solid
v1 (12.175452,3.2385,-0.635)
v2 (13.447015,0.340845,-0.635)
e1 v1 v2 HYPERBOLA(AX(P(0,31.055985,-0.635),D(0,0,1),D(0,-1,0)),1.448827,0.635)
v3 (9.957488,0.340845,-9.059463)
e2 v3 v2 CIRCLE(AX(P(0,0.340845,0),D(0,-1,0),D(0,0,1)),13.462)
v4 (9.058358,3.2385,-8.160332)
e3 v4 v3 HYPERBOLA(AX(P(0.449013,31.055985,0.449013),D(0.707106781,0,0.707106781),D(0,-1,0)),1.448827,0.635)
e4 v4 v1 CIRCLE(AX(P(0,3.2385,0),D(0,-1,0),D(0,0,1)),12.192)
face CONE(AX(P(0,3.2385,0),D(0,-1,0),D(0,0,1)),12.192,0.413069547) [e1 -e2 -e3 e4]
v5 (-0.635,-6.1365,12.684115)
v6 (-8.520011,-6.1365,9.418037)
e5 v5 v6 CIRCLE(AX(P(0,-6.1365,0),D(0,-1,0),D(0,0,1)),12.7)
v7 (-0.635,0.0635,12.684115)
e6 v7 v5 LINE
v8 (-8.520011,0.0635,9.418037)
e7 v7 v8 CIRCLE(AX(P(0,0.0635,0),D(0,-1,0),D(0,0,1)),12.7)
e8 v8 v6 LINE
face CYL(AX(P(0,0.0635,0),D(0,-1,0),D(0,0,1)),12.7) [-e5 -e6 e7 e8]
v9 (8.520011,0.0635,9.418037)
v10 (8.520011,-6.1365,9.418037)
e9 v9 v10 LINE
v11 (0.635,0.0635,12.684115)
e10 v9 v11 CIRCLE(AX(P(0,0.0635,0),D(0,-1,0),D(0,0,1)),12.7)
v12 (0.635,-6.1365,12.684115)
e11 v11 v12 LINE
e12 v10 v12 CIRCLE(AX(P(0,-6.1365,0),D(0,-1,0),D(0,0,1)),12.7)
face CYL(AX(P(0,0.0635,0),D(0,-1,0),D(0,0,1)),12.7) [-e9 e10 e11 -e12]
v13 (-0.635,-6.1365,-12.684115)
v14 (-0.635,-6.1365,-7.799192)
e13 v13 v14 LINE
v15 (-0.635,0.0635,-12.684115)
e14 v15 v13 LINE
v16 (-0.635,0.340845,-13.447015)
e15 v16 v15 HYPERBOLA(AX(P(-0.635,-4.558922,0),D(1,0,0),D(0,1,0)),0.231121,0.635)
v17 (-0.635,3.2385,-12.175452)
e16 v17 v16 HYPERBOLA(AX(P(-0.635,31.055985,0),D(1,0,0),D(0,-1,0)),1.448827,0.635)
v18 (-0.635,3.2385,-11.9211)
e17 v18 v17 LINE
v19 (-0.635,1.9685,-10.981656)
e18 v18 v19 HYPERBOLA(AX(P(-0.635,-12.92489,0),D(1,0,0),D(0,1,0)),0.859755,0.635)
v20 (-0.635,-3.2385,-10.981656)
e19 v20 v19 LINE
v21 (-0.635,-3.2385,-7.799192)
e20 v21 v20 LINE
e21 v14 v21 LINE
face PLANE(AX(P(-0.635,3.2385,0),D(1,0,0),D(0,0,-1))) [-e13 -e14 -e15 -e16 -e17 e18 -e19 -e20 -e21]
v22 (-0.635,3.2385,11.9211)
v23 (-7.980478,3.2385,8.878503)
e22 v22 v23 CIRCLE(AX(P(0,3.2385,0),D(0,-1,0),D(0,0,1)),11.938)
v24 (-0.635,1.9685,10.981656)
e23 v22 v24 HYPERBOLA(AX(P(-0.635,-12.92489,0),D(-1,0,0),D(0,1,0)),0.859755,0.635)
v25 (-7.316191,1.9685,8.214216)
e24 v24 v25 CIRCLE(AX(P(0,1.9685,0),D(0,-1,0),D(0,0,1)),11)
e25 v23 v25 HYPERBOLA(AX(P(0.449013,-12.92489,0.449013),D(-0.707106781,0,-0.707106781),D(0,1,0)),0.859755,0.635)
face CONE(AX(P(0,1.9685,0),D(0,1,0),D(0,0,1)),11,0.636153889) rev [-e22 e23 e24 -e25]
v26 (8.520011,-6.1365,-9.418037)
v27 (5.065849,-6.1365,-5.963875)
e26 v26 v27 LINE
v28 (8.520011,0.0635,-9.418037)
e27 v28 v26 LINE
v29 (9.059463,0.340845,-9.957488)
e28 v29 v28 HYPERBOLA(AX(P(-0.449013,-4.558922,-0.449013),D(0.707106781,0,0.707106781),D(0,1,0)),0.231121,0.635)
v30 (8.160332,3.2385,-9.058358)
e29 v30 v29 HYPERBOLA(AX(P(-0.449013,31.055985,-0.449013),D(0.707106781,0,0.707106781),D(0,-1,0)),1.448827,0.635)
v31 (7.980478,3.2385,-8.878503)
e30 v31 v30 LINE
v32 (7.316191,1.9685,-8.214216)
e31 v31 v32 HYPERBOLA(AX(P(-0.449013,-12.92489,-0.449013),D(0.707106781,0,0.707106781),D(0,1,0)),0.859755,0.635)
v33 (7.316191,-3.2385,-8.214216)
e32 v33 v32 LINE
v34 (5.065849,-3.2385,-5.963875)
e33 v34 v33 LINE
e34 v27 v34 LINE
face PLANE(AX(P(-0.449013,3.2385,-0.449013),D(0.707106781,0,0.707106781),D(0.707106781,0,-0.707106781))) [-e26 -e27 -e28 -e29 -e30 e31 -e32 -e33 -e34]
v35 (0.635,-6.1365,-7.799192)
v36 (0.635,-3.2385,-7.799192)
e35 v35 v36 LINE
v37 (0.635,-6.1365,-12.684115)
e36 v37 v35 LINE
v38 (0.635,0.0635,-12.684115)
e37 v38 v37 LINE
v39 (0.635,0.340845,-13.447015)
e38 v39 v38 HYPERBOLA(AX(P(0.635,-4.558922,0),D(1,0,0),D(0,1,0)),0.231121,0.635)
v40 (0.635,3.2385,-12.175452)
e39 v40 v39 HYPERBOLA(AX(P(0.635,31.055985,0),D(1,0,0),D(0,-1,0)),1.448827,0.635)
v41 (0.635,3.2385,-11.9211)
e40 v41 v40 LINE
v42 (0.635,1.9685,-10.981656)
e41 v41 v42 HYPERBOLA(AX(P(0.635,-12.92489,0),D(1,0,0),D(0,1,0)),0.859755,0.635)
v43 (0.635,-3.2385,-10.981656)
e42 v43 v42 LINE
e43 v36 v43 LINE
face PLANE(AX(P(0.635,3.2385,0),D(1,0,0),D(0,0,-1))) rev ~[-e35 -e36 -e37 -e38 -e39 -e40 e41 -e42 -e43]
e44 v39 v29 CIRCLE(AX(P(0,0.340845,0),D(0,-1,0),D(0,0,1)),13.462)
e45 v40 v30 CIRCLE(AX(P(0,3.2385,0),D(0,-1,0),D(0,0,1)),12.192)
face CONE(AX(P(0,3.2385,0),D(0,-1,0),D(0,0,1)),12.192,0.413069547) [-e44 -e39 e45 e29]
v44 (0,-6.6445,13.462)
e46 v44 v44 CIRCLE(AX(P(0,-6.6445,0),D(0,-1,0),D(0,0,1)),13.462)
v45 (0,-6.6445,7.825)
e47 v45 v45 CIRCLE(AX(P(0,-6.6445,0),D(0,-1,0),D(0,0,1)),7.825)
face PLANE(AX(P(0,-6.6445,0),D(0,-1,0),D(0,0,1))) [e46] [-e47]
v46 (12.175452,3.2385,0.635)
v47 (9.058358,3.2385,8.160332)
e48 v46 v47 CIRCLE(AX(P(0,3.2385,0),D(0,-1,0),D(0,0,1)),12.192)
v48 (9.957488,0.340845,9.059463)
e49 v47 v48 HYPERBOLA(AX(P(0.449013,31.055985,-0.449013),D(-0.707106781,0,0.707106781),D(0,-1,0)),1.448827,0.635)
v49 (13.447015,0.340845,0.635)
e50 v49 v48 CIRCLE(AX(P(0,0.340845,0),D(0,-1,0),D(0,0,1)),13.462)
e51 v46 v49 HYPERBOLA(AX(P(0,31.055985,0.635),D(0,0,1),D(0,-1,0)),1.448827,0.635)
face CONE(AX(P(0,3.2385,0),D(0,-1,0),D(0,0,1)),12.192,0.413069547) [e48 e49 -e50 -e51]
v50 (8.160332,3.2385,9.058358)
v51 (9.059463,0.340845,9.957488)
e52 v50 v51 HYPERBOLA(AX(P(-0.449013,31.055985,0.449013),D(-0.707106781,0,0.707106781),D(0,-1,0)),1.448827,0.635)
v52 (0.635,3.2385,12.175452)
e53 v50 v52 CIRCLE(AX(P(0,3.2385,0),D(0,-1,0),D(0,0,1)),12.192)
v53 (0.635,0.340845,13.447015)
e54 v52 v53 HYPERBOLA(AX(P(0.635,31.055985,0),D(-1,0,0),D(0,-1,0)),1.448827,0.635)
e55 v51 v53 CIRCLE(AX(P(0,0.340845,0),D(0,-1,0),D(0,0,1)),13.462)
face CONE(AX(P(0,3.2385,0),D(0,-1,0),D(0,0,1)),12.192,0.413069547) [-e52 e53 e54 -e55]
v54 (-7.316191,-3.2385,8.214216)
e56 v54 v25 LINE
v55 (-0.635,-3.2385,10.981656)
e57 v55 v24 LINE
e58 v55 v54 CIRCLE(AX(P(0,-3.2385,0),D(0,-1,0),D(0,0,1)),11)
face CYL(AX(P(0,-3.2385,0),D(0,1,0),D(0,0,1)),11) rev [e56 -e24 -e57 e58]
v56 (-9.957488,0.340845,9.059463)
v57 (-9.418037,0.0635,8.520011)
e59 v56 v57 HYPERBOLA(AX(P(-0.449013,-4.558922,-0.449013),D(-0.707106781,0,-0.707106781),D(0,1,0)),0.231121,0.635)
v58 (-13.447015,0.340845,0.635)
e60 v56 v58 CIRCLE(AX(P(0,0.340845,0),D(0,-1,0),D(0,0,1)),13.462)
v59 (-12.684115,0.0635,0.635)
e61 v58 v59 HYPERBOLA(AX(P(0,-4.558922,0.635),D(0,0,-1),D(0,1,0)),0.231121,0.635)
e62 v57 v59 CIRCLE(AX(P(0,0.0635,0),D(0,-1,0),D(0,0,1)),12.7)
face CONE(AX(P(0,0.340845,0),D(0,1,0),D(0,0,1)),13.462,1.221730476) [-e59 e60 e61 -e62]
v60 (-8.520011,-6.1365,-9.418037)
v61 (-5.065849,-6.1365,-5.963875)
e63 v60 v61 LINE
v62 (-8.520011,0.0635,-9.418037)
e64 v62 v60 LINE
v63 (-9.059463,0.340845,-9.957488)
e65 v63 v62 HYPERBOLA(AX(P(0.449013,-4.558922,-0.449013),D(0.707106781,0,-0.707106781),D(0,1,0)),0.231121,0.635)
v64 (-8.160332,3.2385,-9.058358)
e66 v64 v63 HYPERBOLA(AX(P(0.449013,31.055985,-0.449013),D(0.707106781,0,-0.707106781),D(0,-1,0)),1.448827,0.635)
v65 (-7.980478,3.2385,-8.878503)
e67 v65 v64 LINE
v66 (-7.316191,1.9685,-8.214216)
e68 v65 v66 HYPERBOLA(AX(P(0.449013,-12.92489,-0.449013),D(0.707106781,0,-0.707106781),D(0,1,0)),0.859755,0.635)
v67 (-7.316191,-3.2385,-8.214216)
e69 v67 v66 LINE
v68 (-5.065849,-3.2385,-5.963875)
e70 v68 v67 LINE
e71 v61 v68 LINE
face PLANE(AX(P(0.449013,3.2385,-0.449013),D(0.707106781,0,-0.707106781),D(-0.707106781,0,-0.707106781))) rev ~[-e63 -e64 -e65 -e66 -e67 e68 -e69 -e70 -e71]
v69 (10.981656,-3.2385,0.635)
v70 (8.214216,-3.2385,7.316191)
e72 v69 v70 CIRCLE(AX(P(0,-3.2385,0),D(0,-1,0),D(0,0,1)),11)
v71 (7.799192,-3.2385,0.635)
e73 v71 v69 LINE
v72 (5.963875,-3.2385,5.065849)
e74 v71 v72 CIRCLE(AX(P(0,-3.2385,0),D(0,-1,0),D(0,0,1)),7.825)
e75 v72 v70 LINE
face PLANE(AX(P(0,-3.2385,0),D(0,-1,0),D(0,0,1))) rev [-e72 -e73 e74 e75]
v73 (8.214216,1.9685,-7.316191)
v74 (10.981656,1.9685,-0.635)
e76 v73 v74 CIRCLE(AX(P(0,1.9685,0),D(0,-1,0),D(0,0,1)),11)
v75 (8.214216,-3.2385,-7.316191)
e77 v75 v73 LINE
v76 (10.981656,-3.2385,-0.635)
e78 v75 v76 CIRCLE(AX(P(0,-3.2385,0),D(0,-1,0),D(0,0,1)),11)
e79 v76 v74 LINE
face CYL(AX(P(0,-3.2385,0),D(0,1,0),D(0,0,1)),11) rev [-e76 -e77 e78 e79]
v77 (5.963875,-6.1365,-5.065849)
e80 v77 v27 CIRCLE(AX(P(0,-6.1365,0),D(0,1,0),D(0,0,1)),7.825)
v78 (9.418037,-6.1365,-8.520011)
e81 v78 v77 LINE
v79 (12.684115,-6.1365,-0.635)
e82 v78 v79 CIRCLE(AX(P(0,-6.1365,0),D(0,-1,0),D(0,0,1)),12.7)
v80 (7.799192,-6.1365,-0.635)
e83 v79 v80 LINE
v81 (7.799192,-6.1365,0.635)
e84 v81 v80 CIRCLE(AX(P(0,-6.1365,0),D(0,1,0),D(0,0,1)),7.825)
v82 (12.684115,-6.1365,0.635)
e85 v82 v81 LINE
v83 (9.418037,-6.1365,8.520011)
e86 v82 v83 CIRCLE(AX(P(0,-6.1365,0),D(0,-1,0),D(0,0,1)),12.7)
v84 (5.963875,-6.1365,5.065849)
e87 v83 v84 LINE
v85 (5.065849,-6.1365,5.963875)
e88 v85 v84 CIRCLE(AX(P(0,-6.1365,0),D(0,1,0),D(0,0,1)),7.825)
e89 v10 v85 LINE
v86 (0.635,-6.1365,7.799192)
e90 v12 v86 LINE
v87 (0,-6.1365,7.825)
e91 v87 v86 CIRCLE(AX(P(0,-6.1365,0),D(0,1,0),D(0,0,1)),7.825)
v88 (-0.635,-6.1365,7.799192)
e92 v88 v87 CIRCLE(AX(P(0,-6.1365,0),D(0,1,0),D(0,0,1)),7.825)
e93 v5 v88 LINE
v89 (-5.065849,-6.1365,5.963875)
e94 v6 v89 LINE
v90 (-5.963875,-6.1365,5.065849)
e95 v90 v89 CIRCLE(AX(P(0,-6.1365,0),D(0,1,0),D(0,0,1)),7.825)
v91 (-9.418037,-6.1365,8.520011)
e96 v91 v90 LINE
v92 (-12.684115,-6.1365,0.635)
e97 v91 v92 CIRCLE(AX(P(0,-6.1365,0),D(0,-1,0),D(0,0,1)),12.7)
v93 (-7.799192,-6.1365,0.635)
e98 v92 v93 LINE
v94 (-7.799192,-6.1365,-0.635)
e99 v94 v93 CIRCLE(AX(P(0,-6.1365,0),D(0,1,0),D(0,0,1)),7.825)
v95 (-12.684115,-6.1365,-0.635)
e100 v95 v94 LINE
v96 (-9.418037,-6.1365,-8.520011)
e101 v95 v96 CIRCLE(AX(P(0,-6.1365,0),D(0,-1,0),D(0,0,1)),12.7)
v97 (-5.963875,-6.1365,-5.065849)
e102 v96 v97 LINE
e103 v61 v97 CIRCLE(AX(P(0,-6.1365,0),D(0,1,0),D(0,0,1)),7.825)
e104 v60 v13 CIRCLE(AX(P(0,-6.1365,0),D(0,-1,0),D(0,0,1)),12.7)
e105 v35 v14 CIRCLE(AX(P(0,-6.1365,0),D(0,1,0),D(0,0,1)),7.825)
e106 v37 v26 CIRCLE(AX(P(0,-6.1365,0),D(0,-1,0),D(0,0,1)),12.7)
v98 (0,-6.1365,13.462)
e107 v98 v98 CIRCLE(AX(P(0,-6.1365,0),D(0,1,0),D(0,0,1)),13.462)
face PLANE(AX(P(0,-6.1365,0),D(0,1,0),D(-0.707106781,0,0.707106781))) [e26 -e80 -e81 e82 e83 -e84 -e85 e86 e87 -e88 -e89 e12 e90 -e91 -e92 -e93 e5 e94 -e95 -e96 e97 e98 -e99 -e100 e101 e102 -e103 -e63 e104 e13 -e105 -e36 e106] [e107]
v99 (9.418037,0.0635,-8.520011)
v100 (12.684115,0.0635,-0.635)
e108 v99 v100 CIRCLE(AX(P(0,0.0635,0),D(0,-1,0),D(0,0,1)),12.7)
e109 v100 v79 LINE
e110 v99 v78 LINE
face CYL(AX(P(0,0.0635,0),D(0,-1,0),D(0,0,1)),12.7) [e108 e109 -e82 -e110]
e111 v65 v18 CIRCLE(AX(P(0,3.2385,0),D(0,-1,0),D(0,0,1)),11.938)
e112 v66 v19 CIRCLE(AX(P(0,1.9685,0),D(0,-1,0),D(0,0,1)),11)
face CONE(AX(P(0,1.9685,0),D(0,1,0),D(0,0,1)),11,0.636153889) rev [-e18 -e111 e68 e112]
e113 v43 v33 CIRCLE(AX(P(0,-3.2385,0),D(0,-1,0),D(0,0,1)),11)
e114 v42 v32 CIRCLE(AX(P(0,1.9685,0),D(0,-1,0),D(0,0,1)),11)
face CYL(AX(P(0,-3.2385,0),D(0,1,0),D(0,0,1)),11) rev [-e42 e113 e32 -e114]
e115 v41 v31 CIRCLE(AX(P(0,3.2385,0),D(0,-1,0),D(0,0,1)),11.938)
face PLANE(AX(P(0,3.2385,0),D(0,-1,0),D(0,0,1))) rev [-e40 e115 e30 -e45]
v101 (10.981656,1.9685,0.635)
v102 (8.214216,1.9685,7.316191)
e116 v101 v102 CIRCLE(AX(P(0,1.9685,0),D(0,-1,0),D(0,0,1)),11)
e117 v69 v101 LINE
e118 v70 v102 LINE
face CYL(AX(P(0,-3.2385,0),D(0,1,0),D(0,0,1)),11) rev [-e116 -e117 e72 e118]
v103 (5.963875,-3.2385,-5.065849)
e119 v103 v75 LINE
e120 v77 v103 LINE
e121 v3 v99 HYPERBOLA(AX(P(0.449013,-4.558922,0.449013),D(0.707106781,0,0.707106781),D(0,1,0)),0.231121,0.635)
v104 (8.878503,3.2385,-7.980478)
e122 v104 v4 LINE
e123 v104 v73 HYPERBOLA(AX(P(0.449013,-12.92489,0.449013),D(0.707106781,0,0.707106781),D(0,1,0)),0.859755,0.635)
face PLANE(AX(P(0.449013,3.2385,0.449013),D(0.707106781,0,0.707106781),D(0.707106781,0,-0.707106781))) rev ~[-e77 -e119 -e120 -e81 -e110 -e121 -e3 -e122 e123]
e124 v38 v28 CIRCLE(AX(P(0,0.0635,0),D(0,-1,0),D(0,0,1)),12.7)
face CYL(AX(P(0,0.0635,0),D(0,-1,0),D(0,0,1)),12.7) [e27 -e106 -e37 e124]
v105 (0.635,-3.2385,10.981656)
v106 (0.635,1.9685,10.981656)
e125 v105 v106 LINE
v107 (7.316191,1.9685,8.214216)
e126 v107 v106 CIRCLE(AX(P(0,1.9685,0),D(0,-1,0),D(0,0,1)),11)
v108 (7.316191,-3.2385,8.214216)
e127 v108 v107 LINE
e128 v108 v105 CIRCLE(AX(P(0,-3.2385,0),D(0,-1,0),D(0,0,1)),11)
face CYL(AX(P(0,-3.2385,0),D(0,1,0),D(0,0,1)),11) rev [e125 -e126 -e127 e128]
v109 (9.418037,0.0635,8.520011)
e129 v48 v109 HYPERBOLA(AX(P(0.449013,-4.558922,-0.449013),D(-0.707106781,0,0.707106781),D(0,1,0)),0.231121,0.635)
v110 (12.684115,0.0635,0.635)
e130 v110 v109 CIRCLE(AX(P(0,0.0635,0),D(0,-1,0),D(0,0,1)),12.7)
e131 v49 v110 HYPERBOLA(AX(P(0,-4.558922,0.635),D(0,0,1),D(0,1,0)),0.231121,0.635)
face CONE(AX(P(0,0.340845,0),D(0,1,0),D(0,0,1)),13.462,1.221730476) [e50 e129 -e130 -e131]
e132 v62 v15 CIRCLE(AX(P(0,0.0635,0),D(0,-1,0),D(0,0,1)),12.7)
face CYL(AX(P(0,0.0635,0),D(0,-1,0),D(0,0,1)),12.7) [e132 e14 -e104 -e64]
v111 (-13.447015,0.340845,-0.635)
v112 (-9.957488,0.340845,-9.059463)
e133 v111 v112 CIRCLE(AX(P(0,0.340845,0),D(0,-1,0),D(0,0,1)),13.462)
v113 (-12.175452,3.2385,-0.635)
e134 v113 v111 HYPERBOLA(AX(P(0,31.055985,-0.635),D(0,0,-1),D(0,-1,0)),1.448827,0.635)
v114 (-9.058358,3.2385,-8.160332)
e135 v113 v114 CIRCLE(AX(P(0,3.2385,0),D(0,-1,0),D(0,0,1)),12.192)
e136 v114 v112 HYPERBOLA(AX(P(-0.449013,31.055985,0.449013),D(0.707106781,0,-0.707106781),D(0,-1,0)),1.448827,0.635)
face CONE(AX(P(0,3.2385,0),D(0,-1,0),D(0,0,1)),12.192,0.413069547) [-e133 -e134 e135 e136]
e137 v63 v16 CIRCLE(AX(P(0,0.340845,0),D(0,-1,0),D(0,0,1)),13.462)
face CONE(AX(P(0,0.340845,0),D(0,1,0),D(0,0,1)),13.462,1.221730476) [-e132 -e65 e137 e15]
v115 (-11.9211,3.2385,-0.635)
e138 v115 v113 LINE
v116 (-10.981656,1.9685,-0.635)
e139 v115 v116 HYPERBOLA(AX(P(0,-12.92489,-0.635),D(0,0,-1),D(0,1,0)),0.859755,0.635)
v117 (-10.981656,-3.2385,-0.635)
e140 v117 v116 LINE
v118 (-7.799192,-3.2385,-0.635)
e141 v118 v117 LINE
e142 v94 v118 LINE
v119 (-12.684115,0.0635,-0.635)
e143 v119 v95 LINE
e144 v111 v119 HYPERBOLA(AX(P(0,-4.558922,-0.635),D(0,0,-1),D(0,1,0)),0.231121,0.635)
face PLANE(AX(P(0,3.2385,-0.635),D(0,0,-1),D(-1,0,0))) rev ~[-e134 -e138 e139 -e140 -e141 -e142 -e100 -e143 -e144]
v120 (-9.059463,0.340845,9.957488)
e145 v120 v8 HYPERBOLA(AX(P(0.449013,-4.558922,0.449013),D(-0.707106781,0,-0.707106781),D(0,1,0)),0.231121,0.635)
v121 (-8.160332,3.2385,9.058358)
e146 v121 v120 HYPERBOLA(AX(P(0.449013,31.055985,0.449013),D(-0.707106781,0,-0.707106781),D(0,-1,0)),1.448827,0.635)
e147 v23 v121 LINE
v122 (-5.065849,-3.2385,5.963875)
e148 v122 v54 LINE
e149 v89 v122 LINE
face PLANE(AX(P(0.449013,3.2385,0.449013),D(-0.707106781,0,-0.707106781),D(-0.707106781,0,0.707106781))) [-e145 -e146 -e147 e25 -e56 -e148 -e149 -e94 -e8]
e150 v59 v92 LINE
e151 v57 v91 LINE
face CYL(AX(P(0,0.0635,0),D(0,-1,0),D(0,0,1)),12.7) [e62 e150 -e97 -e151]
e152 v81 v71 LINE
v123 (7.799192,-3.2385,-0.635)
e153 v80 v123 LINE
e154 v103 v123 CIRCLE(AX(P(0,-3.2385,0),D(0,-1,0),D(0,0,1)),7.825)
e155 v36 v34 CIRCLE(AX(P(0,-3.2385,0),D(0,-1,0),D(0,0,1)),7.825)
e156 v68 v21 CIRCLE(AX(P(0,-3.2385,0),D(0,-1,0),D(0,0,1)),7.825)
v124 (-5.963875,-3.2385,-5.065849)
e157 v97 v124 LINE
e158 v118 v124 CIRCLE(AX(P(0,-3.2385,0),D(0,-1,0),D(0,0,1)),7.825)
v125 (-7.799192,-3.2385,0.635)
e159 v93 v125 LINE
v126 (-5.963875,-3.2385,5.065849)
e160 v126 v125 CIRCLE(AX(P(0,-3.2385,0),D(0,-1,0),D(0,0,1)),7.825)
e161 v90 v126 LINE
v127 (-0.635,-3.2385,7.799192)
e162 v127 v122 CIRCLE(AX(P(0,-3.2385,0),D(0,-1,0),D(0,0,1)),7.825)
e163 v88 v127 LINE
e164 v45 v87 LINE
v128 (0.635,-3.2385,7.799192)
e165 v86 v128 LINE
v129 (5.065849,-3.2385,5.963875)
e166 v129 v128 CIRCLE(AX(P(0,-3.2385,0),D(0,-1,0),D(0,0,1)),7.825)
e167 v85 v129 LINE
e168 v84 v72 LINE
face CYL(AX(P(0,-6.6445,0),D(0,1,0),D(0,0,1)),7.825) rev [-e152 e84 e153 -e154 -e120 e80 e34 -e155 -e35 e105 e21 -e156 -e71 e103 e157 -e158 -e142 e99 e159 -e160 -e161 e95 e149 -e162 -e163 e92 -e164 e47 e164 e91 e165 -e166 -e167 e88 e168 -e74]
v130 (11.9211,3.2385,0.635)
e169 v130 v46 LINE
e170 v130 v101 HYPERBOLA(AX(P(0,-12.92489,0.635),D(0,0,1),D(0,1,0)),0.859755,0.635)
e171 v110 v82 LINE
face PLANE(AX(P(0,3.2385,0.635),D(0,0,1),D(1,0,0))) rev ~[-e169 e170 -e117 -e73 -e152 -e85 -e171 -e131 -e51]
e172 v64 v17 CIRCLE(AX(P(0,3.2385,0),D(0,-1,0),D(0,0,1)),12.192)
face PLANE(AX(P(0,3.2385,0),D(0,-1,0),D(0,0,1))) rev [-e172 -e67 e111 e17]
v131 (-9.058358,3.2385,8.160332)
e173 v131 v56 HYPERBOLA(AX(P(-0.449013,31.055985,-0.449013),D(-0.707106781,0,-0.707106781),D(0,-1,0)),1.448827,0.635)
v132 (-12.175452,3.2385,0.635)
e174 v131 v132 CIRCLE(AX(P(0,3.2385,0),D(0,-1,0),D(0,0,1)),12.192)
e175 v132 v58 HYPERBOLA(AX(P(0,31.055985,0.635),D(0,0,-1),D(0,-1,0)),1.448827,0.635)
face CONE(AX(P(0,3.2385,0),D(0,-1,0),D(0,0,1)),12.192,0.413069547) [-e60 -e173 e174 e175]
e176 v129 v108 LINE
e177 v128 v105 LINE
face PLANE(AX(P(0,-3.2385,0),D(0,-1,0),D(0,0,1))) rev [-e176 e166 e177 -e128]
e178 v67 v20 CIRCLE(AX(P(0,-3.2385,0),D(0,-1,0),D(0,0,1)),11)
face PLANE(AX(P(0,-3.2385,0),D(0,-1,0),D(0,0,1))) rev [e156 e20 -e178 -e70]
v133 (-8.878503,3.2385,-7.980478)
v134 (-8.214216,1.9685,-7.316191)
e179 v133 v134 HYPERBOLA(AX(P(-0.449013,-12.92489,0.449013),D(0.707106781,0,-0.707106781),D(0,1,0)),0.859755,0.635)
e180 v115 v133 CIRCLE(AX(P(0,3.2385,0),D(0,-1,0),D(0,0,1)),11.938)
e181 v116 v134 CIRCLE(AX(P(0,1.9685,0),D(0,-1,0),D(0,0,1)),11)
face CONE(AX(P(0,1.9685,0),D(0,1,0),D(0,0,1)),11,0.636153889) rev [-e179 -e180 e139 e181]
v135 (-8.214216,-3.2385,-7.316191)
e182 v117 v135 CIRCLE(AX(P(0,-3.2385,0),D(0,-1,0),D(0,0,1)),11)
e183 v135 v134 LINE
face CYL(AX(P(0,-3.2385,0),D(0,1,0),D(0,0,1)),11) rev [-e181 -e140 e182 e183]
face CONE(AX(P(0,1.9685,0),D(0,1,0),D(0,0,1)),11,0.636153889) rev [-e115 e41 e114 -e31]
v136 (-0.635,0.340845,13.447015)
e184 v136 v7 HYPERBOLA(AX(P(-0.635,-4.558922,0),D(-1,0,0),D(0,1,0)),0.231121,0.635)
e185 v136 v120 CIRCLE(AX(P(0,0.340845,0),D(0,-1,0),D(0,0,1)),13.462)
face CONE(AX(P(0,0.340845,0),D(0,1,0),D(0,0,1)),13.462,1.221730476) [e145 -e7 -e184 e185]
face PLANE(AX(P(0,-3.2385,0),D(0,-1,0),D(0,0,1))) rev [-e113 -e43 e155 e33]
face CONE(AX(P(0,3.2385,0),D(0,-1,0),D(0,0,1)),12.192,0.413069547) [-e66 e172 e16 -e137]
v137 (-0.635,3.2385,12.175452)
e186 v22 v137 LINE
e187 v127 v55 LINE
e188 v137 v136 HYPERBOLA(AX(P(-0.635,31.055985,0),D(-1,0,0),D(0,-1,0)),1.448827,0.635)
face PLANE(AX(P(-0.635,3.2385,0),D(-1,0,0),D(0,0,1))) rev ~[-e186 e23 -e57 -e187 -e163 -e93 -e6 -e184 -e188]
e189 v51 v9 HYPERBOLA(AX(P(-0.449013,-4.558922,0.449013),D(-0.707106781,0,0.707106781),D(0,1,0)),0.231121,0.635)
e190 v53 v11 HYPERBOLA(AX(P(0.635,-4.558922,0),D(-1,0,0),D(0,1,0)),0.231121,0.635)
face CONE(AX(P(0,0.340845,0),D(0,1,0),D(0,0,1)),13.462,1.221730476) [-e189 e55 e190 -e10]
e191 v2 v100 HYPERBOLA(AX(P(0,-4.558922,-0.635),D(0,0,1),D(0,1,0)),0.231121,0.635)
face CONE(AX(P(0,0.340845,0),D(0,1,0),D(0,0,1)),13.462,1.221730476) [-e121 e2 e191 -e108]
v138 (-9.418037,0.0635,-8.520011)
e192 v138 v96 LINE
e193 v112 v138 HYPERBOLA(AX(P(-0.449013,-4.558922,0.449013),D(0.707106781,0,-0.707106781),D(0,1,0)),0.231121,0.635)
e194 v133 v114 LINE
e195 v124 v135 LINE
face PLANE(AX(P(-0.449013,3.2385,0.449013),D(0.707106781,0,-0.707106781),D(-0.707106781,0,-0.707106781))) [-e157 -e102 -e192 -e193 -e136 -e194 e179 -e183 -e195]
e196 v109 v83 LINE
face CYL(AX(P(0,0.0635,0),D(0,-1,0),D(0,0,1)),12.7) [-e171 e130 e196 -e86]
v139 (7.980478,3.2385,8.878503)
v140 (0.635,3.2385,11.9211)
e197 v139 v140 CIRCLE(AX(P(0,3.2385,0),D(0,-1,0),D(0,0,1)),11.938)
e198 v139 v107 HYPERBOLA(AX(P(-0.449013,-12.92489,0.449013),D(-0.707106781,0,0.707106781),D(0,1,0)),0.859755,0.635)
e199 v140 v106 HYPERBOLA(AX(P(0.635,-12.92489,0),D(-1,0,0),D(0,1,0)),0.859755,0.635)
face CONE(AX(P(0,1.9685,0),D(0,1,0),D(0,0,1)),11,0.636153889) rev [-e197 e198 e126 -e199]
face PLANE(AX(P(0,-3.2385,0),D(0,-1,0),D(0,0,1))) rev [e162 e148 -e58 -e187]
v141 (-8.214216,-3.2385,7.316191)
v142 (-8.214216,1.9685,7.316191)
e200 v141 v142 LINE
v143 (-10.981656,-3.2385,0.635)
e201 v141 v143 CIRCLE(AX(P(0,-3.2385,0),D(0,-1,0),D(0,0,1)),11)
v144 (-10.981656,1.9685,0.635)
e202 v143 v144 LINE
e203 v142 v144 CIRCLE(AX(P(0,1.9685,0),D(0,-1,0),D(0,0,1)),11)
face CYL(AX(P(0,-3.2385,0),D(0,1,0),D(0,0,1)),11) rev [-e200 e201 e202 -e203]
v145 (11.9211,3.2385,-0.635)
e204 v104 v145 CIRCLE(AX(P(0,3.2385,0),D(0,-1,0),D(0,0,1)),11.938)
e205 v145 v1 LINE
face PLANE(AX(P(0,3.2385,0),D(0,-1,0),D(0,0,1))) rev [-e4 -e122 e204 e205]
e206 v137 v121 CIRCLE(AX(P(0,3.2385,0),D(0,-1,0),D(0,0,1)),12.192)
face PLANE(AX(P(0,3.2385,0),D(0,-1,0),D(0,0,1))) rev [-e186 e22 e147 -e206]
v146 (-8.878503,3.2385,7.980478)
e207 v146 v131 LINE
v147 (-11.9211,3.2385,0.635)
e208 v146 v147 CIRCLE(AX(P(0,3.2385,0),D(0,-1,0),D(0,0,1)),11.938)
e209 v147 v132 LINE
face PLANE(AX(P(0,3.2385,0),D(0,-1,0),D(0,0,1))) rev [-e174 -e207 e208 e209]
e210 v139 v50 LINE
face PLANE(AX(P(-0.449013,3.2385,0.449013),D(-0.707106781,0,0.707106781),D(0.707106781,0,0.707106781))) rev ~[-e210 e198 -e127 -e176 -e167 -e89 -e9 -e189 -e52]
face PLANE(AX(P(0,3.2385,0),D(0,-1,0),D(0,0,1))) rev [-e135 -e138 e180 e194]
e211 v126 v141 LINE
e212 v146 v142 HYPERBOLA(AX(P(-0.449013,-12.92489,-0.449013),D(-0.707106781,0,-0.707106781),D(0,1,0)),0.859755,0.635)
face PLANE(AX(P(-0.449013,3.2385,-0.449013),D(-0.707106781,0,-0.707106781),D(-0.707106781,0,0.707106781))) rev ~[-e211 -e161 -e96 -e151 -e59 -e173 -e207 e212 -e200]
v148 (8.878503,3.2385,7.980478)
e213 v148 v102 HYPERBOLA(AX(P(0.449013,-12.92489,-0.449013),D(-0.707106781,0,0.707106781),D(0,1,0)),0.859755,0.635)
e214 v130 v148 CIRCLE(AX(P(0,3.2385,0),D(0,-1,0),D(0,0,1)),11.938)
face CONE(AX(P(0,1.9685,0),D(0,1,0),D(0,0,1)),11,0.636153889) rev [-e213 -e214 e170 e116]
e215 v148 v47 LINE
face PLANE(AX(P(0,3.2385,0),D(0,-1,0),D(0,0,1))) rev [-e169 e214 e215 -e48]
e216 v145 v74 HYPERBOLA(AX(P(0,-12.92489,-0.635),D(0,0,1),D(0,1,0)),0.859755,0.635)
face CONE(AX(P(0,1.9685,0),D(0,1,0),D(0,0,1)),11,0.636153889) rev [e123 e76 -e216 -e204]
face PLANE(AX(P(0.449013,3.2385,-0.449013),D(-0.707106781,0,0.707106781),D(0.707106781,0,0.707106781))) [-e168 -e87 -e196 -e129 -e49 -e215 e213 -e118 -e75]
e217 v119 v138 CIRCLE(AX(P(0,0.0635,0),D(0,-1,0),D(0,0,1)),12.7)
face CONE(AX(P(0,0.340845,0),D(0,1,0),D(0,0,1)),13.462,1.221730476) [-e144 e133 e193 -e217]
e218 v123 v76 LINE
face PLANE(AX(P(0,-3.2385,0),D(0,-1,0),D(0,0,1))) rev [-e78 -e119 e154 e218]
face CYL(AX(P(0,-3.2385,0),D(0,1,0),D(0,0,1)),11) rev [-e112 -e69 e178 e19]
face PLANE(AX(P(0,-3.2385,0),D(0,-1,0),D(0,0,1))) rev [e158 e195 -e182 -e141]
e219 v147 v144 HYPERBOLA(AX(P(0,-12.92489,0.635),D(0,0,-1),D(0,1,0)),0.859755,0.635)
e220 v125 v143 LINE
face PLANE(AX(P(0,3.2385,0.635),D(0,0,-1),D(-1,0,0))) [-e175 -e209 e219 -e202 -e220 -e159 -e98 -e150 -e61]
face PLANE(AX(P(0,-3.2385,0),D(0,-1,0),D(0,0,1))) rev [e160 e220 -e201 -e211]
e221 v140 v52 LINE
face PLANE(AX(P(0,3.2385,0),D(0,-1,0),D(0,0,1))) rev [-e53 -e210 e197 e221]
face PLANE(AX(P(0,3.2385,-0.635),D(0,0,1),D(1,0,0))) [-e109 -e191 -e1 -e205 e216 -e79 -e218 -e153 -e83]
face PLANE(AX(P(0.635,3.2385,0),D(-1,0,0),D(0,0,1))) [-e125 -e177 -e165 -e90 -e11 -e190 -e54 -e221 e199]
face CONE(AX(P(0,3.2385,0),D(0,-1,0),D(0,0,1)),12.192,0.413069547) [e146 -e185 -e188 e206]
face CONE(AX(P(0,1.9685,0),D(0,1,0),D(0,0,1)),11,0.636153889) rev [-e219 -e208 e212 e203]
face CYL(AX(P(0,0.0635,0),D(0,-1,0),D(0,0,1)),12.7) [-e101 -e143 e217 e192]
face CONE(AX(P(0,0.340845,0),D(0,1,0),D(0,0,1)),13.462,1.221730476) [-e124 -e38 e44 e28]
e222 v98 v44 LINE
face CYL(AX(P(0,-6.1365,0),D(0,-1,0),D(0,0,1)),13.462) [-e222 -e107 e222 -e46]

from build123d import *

# Parameters (mm, degrees)
CUT_EXTRUDE3_REACH             = 23.451
SKETCH6_W                      = 1.27
SKETCH6_H                      = 13.462
CUT_EXTRUDE3_DIRECTION_2_DEPTH = 22.45051463
CIRPATTERN1_COUNT              = 8


with BuildPart() as part:
    # Sketch5 → Revolve1 (revolve)
    with BuildSketch(Plane.XY, mode=Mode.PRIVATE) as revolve1_sk:
        Polygon((-11, -3.2385), (-11, 1.9685), (-11.938, 3.2385), (-12.192, 3.2385), (-13.462, 0.340845319), (-12.7, 0.0635), (-12.7, -6.136500046), (-13.462, -6.136500046), (-13.462, -6.644500046), (-7.825, -6.644500046), (-7.825, -3.2385), align=None)
    revolve(revolve1_sk.sketch.rotate(Axis((0, 0.0635, 0), (0, -1, 0)), 270), axis=Axis((0, 0.0635, 0), (0, -1, 0)))

    # Cut-Extrude3: up to this face of the body (flat: up to its plane)
    cut_extrude3_end = Plane(part.part.faces().sort_by_distance((0, -6.136500046, -13.08076286))[0])
    # Sketch6 → Cut-Extrude3 (cut, up to the picked face)
    with BuildSketch(Plane(origin=(0, 3.2385, 0), x_dir=(1, 0, 0), z_dir=(0, 1, 0)), mode=Mode.PRIVATE) as cut_extrude3_sk1:
        with Locations((0, 6.731)):
            Rectangle(SKETCH6_W, SKETCH6_H)
    cut_extrude3_tool1 = split(extrude(cut_extrude3_sk1.sketch, amount=-CUT_EXTRUDE3_REACH, mode=Mode.PRIVATE), bisect_by=cut_extrude3_end, keep=Keep.BOTH, mode=Mode.PRIVATE)
    cut_extrude3 = cut_extrude3_tool1.solids().sort_by(Axis((0, 3.2385, -6.731), (0, -1, 0)))[0]
    add(cut_extrude3, mode=Mode.SUBTRACT)

    # Sketch6 → Cut-Extrude3 direction 2 (cut)
    with BuildSketch(Plane(origin=(0, 3.2385, 0), x_dir=(1, 0, 0), z_dir=(0, 1, 0))):
        with Locations((0, 6.731)):
            Rectangle(SKETCH6_W, SKETCH6_H)
    cut_extrude3_direction_2 = extrude(amount=CUT_EXTRUDE3_DIRECTION_2_DEPTH, mode=Mode.SUBTRACT)

    # CirPattern1: Cut-Extrude3, Cut-Extrude3 direction 2 ×8 about axis
    cirpattern1_axis = Axis((0, 0, 0), (0, 1, 0))
    add([cut_extrude3.rotate(cirpattern1_axis, i * 360 / CIRPATTERN1_COUNT) for i in range(1, CIRPATTERN1_COUNT)], mode=Mode.SUBTRACT)
    add([cut_extrude3_direction_2.rotate(cirpattern1_axis, i * 360 / CIRPATTERN1_COUNT) for i in range(1, CIRPATTERN1_COUNT)], mode=Mode.SUBTRACT)


solid = part.part
